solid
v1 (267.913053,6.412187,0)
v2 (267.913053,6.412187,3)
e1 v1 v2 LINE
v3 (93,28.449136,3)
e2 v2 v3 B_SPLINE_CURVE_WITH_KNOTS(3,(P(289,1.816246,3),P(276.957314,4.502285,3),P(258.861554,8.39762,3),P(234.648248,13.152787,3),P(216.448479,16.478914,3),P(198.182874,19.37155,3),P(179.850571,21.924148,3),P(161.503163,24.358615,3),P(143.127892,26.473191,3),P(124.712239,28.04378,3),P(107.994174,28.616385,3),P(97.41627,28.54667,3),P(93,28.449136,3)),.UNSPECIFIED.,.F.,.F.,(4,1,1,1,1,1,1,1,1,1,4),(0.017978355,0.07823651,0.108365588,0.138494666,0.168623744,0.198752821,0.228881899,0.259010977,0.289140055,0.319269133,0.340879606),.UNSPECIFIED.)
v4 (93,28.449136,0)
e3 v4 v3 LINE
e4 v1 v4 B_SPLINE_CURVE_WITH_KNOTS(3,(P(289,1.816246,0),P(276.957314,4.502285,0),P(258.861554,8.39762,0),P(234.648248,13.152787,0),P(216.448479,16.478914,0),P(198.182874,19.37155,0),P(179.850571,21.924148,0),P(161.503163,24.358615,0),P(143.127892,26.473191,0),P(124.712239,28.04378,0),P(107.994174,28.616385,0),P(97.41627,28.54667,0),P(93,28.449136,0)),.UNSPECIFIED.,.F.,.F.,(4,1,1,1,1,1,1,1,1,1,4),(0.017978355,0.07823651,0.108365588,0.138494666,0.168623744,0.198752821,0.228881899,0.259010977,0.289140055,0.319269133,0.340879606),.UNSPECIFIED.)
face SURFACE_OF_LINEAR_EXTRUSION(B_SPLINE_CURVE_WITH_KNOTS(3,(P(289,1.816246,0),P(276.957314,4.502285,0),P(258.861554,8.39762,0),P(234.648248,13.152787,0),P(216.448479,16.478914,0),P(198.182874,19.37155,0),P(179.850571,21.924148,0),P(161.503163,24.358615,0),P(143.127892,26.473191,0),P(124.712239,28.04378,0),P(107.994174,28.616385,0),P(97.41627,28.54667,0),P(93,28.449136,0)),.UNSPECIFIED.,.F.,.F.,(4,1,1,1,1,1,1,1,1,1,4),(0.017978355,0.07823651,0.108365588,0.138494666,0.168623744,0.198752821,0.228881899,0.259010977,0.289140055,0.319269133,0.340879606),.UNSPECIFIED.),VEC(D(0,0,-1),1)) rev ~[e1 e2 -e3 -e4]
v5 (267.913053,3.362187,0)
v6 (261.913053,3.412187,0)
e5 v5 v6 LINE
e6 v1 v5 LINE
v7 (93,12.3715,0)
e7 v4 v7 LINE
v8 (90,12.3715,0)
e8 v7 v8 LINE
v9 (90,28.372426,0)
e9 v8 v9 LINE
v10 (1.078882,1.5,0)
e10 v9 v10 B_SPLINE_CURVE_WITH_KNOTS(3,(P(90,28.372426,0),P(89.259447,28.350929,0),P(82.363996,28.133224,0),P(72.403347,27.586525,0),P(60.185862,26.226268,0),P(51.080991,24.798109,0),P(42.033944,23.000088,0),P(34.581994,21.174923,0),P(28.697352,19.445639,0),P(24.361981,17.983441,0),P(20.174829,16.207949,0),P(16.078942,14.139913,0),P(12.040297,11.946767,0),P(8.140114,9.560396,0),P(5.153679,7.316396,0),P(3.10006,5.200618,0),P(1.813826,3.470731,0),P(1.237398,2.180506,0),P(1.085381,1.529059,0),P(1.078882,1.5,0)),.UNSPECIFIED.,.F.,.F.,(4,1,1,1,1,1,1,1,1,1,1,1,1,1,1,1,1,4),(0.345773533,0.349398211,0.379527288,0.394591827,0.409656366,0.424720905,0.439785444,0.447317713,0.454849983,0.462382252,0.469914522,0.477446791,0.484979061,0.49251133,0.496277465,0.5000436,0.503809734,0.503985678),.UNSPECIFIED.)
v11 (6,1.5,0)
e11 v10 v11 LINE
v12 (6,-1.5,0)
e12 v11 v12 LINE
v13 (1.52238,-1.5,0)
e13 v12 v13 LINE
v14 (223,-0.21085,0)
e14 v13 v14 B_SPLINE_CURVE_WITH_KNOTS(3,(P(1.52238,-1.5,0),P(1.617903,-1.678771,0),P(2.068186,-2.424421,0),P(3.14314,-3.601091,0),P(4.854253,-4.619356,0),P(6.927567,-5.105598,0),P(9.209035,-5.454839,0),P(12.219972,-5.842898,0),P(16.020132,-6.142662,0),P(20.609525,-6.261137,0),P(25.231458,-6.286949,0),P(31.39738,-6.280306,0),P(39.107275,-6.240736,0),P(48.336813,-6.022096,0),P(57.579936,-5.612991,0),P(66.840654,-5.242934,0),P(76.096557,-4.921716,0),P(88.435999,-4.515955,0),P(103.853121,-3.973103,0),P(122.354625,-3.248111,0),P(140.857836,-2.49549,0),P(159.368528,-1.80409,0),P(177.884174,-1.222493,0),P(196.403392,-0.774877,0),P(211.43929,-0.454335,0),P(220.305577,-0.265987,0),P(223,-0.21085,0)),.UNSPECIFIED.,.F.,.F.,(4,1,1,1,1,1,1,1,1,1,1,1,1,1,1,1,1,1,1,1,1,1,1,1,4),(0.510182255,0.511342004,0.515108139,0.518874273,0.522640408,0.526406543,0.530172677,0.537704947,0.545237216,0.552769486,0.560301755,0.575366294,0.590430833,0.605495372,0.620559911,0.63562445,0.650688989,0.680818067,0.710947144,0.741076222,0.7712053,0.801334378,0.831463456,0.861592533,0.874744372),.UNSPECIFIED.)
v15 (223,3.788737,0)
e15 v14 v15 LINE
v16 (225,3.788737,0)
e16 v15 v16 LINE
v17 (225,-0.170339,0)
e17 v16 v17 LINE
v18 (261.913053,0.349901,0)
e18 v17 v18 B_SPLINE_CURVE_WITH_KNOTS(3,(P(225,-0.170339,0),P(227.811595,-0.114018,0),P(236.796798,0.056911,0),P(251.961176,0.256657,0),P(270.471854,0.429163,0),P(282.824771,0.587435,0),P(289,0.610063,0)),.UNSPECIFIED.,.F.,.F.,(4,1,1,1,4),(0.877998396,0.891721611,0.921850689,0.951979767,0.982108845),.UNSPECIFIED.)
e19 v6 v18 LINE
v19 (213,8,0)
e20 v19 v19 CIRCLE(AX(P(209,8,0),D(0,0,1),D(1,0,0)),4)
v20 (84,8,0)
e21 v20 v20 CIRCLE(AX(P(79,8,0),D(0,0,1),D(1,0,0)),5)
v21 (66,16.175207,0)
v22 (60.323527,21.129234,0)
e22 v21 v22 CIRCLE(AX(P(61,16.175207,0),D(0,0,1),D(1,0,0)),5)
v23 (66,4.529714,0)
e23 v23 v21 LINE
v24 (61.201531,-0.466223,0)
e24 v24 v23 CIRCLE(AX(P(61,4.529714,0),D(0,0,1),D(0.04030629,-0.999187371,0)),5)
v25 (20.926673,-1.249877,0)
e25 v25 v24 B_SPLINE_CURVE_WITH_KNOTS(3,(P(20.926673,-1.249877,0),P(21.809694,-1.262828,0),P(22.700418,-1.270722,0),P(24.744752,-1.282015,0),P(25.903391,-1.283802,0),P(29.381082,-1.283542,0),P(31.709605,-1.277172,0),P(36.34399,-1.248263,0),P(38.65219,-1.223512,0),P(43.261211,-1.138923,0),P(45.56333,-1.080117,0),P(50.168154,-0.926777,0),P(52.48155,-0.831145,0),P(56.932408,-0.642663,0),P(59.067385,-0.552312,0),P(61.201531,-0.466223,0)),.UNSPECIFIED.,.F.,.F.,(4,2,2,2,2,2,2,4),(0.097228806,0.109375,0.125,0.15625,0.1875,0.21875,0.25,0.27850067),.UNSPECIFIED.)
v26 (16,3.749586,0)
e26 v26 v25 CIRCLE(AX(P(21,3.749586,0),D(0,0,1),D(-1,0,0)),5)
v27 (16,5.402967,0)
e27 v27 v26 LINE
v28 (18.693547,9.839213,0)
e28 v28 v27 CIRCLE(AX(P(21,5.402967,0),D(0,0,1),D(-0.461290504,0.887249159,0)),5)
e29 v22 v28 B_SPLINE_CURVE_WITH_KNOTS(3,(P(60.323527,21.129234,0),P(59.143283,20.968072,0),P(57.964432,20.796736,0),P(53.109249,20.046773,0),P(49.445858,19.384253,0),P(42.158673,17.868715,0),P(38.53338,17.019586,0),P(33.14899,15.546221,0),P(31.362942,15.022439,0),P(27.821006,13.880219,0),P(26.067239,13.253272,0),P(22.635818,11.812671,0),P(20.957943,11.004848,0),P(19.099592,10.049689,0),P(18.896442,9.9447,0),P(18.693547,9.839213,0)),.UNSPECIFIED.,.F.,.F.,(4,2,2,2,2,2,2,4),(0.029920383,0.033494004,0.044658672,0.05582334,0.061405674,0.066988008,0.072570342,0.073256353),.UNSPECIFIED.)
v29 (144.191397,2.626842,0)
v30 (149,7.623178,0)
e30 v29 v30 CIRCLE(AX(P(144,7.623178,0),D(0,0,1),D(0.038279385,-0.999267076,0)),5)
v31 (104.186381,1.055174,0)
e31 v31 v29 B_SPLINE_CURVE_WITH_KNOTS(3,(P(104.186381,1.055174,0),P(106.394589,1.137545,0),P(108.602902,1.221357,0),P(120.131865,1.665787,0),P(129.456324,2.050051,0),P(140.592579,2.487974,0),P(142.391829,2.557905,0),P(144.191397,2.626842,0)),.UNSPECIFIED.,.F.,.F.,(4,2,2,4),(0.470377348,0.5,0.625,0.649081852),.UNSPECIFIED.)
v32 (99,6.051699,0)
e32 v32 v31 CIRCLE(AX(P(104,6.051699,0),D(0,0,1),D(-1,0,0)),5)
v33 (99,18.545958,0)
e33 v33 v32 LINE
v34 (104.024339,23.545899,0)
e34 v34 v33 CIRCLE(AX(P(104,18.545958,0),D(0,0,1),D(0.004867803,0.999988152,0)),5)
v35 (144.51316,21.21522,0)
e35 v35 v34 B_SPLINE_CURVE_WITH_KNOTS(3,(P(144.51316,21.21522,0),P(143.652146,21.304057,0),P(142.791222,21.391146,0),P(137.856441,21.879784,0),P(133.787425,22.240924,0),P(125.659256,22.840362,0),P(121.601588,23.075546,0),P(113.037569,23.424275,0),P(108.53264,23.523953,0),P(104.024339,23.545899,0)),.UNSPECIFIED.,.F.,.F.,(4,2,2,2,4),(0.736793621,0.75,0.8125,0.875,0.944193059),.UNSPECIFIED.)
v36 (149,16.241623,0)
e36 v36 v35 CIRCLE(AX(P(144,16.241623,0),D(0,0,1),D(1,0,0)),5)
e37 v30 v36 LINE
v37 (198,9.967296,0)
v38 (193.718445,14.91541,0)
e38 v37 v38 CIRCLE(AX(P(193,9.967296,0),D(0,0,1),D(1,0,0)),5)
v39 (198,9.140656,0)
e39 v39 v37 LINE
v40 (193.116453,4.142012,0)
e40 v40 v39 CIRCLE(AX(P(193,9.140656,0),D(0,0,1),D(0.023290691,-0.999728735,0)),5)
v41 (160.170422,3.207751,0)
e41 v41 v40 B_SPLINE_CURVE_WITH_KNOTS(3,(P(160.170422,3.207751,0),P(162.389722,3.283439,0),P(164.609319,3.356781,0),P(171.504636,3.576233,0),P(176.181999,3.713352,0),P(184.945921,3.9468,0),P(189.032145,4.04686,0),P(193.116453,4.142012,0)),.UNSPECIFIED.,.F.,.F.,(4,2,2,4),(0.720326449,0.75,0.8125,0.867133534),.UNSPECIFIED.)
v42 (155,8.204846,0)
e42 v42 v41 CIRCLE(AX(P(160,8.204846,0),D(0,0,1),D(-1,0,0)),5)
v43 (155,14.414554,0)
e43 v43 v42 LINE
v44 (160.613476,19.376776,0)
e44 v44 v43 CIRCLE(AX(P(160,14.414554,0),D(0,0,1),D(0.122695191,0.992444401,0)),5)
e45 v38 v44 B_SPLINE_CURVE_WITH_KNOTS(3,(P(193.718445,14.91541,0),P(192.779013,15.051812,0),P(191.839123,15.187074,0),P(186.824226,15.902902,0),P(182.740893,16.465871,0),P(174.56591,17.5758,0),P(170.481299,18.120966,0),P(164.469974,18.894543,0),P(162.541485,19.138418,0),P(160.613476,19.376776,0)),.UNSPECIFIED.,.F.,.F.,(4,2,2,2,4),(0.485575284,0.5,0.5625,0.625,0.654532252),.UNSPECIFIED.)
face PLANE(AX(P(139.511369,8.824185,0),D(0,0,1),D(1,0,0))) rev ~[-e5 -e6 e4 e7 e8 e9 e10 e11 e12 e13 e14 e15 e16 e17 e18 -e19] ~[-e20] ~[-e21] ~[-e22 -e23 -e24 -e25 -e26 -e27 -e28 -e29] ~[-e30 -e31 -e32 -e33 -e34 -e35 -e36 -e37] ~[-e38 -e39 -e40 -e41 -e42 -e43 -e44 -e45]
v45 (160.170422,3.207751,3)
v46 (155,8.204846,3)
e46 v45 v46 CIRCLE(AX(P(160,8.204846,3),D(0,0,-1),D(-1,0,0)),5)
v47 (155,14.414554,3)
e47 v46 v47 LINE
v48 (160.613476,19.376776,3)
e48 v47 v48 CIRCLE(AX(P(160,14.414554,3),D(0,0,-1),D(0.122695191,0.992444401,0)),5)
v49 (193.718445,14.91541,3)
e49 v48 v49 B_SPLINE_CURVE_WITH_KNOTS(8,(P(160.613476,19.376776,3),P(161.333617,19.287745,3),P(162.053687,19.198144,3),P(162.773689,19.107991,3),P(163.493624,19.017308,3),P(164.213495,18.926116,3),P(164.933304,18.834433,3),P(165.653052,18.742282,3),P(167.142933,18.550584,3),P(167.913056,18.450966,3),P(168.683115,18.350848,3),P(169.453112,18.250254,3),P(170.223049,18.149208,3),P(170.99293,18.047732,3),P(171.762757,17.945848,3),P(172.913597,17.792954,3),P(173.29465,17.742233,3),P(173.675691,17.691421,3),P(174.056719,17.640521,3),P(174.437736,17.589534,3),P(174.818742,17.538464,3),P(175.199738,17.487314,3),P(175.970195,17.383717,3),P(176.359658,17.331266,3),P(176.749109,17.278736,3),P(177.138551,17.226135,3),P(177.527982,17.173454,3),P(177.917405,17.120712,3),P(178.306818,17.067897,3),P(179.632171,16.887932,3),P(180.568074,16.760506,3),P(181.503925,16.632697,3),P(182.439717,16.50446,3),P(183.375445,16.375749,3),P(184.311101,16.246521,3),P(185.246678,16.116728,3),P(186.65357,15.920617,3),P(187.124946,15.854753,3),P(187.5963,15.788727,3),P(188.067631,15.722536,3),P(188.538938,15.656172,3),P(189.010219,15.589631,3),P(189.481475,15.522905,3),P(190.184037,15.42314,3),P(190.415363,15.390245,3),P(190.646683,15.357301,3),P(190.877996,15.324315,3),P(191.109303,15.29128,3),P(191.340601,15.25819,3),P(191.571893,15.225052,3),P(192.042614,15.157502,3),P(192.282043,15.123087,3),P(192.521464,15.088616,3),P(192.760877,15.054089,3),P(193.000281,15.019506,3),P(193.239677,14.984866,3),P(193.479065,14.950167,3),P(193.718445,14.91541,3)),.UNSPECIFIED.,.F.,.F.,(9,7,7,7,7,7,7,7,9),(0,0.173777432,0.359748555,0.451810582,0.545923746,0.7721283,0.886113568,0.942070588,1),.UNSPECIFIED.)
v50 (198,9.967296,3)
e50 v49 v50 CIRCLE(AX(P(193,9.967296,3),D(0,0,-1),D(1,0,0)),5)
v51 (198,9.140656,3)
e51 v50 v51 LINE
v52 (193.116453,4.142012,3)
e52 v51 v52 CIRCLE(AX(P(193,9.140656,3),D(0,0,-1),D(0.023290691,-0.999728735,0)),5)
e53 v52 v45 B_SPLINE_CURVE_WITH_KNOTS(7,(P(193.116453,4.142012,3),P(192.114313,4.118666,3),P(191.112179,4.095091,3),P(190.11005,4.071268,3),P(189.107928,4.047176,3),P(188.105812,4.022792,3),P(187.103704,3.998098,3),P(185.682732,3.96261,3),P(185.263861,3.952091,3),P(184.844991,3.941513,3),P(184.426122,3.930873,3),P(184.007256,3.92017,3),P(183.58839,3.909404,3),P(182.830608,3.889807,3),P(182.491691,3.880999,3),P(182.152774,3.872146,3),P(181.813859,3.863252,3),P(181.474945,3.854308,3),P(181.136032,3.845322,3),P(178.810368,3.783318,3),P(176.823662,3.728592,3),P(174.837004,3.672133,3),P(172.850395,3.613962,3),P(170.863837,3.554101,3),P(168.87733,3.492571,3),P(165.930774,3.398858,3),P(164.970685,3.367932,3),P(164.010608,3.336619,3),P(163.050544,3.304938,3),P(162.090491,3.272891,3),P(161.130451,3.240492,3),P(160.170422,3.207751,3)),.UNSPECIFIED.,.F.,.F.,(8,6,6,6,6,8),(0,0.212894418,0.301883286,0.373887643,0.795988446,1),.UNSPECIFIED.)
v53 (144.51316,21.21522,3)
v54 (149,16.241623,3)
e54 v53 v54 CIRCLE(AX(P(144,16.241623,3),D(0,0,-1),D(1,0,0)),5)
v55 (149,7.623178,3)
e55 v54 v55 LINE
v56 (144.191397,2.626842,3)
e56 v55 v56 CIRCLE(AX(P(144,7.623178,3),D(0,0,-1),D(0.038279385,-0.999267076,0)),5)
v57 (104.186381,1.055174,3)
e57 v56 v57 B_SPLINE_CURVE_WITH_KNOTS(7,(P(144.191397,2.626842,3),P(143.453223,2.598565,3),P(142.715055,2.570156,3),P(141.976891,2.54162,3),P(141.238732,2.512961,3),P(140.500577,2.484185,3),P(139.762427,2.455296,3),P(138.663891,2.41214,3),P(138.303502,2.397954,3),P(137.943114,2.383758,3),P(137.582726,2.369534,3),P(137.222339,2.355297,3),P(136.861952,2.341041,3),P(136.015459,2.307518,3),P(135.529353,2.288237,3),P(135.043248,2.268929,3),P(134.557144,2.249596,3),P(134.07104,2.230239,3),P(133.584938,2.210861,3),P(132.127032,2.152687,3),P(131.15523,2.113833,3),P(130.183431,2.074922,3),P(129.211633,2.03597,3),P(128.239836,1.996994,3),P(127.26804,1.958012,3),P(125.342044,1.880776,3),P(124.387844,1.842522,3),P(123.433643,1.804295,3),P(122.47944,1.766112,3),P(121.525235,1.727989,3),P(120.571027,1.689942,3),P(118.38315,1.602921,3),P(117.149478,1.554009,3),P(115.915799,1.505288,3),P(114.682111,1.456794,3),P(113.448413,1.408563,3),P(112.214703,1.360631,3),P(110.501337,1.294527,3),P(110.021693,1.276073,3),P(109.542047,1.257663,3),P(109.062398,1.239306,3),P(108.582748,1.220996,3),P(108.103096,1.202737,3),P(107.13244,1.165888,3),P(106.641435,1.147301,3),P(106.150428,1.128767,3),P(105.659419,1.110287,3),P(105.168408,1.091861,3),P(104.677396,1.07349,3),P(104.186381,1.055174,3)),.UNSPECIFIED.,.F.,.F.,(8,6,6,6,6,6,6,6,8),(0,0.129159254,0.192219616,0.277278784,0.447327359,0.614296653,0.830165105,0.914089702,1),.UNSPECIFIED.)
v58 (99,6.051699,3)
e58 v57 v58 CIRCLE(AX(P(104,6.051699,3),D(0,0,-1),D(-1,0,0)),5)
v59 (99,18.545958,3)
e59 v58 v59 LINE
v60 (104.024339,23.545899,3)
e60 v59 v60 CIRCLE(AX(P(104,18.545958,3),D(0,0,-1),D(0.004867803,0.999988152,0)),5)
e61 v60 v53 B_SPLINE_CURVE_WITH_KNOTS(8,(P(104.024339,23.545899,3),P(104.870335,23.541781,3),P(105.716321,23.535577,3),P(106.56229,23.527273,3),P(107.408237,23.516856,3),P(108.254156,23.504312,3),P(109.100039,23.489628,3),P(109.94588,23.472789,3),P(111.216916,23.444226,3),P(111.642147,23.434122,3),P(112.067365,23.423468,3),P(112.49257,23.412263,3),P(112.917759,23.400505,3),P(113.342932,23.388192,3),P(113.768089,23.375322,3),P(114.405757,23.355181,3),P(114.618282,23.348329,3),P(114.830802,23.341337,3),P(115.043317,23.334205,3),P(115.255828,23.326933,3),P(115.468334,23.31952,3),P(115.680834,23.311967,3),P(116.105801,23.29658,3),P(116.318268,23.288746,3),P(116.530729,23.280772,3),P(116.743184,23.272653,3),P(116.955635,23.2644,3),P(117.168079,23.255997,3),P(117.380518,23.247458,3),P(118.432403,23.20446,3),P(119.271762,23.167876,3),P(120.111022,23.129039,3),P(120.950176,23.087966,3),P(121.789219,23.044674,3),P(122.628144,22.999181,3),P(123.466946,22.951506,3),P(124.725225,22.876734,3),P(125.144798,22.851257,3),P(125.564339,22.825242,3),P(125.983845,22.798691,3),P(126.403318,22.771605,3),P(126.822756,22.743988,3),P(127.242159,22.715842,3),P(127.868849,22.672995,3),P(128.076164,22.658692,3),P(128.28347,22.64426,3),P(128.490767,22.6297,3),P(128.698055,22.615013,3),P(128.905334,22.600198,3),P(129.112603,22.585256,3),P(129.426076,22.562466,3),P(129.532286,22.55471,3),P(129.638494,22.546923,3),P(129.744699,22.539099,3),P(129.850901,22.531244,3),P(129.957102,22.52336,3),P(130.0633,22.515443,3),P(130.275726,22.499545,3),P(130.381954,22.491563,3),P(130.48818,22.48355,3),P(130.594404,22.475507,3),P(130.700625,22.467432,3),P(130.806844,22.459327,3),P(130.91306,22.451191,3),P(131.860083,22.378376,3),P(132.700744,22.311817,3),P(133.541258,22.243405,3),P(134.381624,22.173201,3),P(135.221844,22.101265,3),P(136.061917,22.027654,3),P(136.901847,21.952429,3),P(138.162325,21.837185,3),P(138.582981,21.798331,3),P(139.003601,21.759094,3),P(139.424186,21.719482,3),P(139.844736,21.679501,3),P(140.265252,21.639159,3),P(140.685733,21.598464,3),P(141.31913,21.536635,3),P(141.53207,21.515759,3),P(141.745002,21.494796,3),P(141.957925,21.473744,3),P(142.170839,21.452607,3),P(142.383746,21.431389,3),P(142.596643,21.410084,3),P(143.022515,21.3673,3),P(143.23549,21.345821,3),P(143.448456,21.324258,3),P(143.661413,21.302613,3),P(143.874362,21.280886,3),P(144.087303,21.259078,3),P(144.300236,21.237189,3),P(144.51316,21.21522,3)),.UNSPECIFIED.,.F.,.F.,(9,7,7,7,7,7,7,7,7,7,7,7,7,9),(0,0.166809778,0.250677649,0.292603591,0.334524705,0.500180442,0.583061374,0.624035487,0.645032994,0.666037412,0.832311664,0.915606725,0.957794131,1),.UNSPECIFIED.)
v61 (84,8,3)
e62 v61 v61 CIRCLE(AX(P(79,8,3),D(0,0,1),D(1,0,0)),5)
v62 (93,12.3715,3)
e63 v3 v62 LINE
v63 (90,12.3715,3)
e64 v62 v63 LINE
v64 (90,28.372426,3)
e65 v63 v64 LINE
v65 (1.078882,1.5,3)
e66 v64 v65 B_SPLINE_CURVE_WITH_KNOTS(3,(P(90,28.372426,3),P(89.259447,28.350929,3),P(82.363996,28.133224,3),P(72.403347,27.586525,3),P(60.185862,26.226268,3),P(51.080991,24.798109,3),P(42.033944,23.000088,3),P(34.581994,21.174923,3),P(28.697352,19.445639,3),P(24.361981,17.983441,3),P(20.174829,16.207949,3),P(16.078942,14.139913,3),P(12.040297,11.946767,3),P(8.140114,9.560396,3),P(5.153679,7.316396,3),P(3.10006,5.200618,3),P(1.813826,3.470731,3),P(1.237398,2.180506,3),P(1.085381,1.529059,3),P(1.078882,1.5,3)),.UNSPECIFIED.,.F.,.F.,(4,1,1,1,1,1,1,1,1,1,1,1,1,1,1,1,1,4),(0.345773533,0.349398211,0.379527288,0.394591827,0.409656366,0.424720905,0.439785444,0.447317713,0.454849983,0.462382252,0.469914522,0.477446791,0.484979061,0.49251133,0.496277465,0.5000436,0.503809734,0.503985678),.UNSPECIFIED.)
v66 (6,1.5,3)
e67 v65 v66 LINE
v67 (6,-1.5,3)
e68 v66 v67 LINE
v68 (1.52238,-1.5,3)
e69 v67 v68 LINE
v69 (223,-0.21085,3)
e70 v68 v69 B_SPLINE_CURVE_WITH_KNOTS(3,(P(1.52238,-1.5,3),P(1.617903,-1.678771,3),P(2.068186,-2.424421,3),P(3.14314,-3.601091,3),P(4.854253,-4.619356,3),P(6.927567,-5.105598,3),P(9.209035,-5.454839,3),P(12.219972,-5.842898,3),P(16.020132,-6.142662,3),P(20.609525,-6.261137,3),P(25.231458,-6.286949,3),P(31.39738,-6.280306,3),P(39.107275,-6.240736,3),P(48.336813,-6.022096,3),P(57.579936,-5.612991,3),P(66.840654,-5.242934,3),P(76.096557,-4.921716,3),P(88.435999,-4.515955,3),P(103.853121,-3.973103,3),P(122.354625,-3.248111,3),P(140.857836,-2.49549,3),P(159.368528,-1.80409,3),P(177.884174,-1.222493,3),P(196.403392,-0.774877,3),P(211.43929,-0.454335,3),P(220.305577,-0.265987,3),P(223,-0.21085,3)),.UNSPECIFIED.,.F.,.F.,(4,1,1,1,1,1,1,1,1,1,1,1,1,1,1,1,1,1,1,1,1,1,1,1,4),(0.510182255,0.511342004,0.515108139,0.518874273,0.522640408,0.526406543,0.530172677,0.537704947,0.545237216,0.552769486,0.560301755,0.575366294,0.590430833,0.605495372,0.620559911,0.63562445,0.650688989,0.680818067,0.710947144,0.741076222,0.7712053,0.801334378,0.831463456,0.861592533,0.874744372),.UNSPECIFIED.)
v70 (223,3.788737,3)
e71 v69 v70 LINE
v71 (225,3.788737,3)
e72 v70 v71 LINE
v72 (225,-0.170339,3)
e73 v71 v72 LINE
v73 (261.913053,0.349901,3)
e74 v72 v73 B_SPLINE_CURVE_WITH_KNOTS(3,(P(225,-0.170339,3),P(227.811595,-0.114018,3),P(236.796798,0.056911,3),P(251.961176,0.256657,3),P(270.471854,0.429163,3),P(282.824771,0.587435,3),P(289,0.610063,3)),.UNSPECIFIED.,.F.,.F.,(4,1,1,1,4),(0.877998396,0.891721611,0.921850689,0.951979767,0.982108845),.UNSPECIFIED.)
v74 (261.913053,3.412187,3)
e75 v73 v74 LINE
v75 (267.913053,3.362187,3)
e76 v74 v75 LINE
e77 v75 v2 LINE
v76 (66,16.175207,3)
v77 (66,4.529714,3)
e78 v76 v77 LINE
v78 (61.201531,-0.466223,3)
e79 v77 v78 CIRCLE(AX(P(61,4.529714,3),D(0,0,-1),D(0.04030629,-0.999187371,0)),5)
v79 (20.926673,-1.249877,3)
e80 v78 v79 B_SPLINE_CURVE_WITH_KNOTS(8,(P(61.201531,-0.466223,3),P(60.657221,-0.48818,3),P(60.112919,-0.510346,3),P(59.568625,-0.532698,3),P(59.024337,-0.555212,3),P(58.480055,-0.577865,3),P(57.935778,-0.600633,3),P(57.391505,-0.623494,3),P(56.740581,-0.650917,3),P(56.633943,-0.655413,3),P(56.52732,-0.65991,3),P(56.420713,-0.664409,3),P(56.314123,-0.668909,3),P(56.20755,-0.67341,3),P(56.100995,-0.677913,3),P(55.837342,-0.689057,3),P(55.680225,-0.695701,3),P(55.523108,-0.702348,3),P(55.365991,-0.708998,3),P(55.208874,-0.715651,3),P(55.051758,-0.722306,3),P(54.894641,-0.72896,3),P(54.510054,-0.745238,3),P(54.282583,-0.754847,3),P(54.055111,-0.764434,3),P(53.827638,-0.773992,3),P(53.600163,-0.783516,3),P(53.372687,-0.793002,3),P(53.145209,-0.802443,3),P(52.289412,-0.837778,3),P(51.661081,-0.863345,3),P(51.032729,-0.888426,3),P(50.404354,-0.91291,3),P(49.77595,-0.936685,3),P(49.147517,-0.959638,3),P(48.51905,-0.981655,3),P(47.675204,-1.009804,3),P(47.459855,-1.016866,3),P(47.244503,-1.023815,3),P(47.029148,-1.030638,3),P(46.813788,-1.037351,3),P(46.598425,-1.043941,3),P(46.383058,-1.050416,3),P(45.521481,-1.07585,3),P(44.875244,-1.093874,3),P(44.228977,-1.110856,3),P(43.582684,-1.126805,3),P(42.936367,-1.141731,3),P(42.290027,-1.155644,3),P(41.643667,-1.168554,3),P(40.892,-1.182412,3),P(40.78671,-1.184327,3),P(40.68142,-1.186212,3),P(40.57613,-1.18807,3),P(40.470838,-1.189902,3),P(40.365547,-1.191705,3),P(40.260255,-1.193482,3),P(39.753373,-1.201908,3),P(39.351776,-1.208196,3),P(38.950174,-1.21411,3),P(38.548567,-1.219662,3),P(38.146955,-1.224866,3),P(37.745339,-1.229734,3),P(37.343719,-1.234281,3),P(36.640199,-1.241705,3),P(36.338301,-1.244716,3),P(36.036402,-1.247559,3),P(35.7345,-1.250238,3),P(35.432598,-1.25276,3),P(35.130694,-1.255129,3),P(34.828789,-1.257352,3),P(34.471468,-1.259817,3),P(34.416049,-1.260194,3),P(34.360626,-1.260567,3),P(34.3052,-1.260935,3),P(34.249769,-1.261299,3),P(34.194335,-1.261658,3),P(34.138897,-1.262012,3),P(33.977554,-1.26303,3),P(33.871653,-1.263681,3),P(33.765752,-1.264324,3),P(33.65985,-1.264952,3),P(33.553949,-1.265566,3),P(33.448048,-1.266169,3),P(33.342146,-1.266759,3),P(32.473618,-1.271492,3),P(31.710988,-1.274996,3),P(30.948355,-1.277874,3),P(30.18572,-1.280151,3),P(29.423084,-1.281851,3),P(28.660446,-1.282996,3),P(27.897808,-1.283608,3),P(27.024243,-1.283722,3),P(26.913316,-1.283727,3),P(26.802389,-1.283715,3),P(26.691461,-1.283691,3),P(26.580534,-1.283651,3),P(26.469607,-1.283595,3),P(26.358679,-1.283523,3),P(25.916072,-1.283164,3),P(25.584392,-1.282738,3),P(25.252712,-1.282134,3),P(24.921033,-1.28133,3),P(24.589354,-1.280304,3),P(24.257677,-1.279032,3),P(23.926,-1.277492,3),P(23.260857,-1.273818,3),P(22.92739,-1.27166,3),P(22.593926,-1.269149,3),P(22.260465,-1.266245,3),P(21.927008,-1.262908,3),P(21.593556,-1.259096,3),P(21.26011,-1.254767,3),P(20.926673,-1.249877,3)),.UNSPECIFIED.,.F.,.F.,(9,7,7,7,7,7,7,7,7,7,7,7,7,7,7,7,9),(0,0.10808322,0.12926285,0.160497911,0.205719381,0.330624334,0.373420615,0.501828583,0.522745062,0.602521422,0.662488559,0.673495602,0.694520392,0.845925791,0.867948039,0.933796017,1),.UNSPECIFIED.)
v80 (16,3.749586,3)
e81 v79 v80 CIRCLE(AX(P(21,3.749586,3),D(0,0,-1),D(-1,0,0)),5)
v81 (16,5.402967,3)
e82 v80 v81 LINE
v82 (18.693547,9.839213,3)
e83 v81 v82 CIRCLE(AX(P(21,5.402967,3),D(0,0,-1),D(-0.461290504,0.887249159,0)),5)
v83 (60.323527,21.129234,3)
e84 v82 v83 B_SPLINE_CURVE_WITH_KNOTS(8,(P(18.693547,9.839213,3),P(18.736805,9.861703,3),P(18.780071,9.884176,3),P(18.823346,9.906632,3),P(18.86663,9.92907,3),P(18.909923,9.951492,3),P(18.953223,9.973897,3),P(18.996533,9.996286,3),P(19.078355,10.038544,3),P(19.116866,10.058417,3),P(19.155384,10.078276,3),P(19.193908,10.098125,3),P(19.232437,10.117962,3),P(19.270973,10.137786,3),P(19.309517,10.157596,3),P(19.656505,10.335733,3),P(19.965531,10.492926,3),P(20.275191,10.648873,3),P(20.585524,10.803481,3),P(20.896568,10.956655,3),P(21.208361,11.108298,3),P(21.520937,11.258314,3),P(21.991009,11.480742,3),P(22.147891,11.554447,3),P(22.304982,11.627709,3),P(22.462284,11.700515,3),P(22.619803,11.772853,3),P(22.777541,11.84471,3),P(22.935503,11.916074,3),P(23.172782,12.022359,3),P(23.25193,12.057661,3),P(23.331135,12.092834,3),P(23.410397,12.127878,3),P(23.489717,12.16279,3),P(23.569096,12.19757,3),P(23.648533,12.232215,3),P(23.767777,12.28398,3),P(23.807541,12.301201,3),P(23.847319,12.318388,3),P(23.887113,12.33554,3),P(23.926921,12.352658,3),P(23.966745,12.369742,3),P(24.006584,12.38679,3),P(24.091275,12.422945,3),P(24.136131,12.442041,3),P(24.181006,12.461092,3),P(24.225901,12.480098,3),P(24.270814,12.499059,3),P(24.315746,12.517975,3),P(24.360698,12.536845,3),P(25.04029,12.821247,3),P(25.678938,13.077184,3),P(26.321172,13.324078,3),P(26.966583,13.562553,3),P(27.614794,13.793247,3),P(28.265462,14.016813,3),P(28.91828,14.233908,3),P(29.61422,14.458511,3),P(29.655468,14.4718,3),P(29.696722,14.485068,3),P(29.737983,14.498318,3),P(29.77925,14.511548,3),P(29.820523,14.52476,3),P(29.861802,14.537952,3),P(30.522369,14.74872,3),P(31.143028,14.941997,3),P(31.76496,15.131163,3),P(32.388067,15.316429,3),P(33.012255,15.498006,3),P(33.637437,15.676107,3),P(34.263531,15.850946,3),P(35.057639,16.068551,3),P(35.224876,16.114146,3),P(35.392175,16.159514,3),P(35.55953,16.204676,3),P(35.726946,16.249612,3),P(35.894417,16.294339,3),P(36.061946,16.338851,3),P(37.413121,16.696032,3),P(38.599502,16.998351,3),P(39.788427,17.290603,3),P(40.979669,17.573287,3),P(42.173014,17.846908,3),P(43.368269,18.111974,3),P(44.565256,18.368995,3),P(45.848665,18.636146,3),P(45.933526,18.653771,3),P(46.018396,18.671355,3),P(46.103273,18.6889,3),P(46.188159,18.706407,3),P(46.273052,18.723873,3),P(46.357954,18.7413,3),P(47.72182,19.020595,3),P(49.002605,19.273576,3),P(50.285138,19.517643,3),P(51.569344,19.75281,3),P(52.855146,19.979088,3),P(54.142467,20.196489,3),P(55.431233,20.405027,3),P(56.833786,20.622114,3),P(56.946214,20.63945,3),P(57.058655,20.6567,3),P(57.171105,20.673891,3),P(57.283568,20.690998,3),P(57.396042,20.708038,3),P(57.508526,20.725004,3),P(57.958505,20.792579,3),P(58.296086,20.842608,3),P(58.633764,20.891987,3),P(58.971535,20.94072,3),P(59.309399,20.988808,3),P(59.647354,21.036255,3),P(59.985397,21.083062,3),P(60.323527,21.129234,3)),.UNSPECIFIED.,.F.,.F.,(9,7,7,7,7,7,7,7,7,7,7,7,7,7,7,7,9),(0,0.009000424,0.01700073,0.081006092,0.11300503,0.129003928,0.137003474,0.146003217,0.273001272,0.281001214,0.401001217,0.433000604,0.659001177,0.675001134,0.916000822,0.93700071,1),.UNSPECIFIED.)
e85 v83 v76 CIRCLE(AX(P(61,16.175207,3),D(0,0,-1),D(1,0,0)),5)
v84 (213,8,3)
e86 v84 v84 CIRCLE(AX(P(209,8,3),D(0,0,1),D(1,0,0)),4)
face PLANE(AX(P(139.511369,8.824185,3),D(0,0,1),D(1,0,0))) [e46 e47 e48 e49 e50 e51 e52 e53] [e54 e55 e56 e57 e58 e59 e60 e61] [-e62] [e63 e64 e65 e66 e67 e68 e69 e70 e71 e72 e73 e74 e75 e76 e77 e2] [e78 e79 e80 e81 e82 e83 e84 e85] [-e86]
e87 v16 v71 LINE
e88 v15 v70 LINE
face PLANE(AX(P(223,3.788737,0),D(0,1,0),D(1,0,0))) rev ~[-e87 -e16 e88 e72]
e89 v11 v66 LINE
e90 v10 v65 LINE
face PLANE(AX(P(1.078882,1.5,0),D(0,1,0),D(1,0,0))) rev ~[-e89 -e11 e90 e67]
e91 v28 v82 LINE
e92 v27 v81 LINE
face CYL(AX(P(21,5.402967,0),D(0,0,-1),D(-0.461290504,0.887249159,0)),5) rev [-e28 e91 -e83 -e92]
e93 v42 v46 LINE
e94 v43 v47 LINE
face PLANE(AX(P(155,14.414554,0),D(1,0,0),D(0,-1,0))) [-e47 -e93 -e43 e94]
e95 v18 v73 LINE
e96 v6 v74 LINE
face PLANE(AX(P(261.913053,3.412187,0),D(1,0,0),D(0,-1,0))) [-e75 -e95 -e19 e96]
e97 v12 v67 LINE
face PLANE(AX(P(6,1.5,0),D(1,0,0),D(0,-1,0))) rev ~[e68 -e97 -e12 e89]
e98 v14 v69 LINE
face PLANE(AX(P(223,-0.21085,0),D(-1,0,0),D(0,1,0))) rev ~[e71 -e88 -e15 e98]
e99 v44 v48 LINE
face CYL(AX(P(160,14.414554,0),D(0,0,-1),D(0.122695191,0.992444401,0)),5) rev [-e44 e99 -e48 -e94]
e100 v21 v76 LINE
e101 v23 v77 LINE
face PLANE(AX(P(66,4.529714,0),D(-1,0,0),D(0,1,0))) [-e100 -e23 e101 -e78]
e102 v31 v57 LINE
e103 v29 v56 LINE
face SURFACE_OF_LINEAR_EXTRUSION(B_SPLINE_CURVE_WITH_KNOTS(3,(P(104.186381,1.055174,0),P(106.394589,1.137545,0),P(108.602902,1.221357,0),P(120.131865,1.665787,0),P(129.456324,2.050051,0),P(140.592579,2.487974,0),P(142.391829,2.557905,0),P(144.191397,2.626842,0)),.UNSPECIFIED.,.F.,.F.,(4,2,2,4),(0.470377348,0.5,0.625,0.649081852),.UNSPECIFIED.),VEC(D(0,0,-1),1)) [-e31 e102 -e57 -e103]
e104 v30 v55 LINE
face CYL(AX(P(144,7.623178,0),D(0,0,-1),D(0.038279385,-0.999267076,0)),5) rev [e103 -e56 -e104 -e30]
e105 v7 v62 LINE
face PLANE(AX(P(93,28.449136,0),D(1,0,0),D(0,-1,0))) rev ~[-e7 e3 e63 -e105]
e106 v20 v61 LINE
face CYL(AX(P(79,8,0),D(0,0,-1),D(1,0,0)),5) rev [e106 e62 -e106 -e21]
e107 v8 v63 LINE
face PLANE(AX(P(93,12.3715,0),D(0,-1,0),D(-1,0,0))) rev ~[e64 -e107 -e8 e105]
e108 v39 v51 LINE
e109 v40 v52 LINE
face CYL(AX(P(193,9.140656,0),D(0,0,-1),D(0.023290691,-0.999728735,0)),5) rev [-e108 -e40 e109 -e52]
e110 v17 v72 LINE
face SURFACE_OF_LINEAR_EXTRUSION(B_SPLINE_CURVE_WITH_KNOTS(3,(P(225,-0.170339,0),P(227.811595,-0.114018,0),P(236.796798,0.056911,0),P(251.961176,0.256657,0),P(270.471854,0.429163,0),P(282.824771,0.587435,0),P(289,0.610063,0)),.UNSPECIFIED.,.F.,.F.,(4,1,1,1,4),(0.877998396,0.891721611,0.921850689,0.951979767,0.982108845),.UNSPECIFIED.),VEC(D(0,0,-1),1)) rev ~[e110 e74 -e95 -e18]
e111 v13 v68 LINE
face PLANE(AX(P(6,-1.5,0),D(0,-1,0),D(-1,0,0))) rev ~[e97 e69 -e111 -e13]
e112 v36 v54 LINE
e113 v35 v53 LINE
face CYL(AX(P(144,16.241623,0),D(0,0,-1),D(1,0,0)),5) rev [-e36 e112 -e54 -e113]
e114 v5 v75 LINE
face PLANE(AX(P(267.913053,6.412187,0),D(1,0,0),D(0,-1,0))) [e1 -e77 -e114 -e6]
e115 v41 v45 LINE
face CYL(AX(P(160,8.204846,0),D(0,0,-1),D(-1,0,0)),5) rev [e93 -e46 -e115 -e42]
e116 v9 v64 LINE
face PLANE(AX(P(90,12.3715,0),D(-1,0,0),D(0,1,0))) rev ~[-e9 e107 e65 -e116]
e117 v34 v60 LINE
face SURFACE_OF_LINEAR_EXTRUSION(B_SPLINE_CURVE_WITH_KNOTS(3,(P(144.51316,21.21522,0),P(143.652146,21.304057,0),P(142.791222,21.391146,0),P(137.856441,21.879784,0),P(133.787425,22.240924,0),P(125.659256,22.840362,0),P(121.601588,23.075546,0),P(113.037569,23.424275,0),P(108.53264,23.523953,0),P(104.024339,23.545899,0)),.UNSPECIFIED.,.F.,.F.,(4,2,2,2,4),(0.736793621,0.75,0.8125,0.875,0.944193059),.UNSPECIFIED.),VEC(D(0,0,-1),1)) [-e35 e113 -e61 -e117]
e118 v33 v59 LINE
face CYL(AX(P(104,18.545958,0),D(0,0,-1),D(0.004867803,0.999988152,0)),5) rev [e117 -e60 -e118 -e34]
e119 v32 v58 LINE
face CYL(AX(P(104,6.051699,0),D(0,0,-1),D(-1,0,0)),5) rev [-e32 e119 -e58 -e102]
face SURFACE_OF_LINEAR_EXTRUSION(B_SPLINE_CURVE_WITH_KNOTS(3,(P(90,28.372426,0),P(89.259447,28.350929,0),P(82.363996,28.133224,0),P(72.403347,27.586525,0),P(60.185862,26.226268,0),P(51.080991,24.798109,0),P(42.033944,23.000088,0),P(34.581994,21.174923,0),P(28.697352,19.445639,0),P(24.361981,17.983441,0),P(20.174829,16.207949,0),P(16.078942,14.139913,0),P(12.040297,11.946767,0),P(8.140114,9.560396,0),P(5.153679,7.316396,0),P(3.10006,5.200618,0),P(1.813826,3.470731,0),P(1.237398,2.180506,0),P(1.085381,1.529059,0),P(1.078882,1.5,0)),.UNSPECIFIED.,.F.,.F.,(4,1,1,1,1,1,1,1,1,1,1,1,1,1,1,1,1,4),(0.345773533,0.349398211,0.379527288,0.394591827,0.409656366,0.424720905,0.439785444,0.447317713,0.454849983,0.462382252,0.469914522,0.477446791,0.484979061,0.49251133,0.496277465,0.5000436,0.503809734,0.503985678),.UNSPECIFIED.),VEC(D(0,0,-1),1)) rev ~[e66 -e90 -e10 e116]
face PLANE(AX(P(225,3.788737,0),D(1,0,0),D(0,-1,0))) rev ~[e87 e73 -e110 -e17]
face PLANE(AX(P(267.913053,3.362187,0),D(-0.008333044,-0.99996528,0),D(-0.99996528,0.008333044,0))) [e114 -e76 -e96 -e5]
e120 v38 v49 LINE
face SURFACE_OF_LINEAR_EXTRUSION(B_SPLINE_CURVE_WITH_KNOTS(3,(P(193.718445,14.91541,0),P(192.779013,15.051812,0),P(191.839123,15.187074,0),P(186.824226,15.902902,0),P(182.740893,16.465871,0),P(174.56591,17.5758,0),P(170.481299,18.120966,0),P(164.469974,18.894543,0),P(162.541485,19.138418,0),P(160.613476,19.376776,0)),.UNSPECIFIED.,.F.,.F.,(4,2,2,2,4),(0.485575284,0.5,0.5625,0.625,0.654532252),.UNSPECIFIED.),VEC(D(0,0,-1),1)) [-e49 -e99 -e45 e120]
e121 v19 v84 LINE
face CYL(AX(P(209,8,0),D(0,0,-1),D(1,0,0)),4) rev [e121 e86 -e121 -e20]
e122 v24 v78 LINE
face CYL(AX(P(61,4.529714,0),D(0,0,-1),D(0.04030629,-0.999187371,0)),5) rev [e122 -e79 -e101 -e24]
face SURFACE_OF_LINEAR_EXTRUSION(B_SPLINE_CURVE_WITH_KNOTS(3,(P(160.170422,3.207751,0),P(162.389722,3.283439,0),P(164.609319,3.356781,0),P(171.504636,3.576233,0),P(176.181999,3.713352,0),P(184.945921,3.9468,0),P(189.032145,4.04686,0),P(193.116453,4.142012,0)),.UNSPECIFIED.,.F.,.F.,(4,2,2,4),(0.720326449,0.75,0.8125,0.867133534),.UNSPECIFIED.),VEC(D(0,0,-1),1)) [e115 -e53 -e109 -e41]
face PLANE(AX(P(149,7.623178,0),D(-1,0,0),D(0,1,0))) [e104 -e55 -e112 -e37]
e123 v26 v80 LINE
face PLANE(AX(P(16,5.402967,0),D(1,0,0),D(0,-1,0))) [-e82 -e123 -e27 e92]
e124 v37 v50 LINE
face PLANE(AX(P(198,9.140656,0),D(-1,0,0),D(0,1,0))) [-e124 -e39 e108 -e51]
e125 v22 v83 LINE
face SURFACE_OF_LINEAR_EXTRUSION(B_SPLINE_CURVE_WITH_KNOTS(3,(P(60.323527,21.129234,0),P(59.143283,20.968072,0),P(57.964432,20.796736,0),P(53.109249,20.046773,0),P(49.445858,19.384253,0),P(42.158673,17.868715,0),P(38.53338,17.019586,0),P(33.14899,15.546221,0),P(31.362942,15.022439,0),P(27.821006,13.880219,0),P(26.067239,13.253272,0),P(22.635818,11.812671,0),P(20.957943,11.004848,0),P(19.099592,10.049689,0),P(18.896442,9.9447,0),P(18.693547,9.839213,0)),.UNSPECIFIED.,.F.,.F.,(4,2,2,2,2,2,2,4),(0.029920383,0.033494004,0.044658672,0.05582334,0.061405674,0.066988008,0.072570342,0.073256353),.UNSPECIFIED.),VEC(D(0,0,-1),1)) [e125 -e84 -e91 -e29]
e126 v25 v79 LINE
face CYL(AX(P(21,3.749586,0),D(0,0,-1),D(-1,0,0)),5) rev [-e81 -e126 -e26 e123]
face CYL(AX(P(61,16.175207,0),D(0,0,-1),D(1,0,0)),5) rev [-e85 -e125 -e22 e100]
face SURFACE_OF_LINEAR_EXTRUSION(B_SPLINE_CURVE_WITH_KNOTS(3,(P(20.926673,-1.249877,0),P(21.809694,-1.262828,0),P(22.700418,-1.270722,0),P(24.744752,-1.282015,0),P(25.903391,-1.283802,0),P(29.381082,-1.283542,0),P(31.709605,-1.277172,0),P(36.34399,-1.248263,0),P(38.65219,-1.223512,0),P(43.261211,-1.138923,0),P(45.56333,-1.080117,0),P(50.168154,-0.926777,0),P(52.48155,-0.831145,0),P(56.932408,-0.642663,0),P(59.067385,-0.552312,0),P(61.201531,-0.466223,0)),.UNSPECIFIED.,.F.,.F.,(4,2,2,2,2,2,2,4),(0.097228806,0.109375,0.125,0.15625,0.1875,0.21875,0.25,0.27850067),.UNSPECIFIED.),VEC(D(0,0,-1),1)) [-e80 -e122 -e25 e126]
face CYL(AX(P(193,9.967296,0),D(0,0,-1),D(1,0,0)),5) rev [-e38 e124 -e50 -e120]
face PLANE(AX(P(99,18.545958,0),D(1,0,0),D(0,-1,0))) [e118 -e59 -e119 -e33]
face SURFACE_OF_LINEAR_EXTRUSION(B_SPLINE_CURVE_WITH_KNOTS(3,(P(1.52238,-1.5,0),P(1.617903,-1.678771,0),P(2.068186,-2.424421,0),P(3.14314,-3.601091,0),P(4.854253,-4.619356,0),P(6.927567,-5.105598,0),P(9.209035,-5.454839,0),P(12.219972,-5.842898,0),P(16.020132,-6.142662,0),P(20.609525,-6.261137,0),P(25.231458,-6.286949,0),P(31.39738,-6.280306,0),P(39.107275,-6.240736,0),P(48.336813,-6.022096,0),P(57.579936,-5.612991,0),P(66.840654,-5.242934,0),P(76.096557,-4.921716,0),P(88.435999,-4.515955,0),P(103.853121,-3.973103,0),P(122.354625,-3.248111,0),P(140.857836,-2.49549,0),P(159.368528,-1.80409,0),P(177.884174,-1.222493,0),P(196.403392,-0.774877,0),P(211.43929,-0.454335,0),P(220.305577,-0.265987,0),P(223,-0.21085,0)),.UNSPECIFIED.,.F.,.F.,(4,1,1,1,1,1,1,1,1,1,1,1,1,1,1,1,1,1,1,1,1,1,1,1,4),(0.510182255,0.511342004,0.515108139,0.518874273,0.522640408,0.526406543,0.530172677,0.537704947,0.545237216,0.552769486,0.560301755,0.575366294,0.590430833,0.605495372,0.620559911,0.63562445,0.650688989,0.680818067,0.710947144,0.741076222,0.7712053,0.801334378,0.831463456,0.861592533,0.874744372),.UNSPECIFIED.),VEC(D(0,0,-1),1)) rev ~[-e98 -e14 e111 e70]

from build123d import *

# Parameters (mm, degrees)
SKETCH_1_R          = 5
SKETCH_1_R_2        = 4
EXTRUDE_1_DEPTH     = 3
CUT_EXTRUDE_2_DEPTH = 291.422386836


with BuildPart() as part:
    # 草图1 → 凸台-拉伸1 (new body)
    with BuildSketch(Plane.XY):
        with BuildLine():
            Line((90, 12.3715), (90, 28.372426217))
            add(Edge.make_bspline(
                [(90, 28.372426217), (89.259446982, 28.350928743), (82.363996343, 28.13322439), (72.403347361, 27.586524792), (60.185862052, 26.226268085), (51.080991088, 24.79810862), (42.033943524, 23.000087944), (34.581994337, 21.174922903), (28.697351661, 19.44563851), (24.361981086, 17.983441115), (20.174828998, 16.207949367), (16.078941989, 14.139912989), (12.040296713, 11.946766626), (8.14011433, 9.56039573), (5.153679337, 7.316395724), (3.100060439, 5.200618052), (1.813825976, 3.470730924), (1.237398467, 2.180506339), (1.085380705, 1.529058937), (1.078882286, 1.5)],
                knots=[0.345773533, 0.345773533, 0.345773533, 0.345773533, 0.349398211, 0.379527288, 0.394591827, 0.409656366, 0.424720905, 0.439785444, 0.447317713, 0.454849983, 0.462382252, 0.469914522, 0.477446791, 0.484979061, 0.49251133, 0.496277465, 0.5000436, 0.503809734, 0.503985678, 0.503985678, 0.503985678, 0.503985678], degree=3))
            Line((1.078882286, 1.5), (6, 1.5))
            Line((6, 1.5), (6, -1.5))
            Line((6, -1.5), (1.522379628, -1.5))
            add(Edge.make_bspline(
                [(1.522379628, -1.5), (1.617903461, -1.678770523), (2.068186491, -2.42442122), (3.143139608, -3.601090845), (4.854253, -4.619355756), (6.927567017, -5.105597911), (9.209034621, -5.454839075), (12.219971865, -5.84289763), (16.020132359, -6.14266222), (20.609524976, -6.2611368), (25.231457517, -6.286948592), (31.397380169, -6.280305851), (39.107274969, -6.240736398), (48.336813051, -6.022096429), (57.579935967, -5.612990736), (66.840654471, -5.242934226), (76.096556555, -4.921715721), (88.435998513, -4.515955408), (103.853120896, -3.973102953), (122.354625015, -3.248110744), (140.857835973, -2.495489966), (159.368527813, -1.804089638), (177.884173919, -1.222493213), (196.4033921, -0.774877257), (211.439290174, -0.454334834), (220.305576898, -0.265987383), (223, -0.210849605)],
                knots=[0.510182255, 0.510182255, 0.510182255, 0.510182255, 0.511342004, 0.515108139, 0.518874273, 0.522640408, 0.526406543, 0.530172677, 0.537704947, 0.545237216, 0.552769486, 0.560301755, 0.575366294, 0.590430833, 0.605495372, 0.620559911, 0.63562445, 0.650688989, 0.680818067, 0.710947144, 0.741076222, 0.7712053, 0.801334378, 0.831463456, 0.861592533, 0.874744372, 0.874744372, 0.874744372, 0.874744372], degree=3))
            Line((223, -0.210849605), (223, 3.788737263))
            Line((223, 3.788737263), (225, 3.788737263))
            Line((225, 3.788737263), (225, -0.170338801))
            add(Edge.make_bspline(
                [(225, -0.170338801), (227.811595191, -0.114017747), (236.796798206, 0.056910764), (251.961175933, 0.256656825), (270.471854229, 0.429163033), (282.824771355, 0.587434741), (289, 0.610062865)],
                knots=[0.877998396, 0.877998396, 0.877998396, 0.877998396, 0.891721611, 0.921850689, 0.951979767, 0.982108845, 0.982108845, 0.982108845, 0.982108845], degree=3))
            Line((289, 0.610062865), (289, 1.816246039))
            add(Edge.make_bspline(
                [(289, 1.816246039), (276.957314444, 4.502285023), (258.861554155, 8.397620333), (234.648247971, 13.152786595), (216.448478593, 16.478914183), (198.182873559, 19.371550405), (179.850571346, 21.924148488), (161.503162682, 24.358614825), (143.127892269, 26.473190985), (124.712239059, 28.043780086), (107.994173705, 28.616385423), (97.416270032, 28.546670082), (93, 28.44913561)],
                knots=[0.017978355, 0.017978355, 0.017978355, 0.017978355, 0.07823651, 0.108365588, 0.138494666, 0.168623744, 0.198752821, 0.228881899, 0.259010977, 0.289140055, 0.319269133, 0.340879606, 0.340879606, 0.340879606, 0.340879606], degree=3))
            Line((93, 28.44913561), (93, 12.3715))
            Line((93, 12.3715), (90, 12.3715))
        make_face()
        with Locations((79, 8)):
            Circle(SKETCH_1_R, mode=Mode.SUBTRACT)
        with Locations((209, 8)):
            Circle(SKETCH_1_R_2, mode=Mode.SUBTRACT)
    extrude(amount=EXTRUDE_1_DEPTH)

    # 草图3 → 切除-拉伸2 (cut, through all)
    with BuildSketch(Plane.XY):
        Polygon((261.913052859, 3.412186808), (261.913052859, 0.349901395), (296.913052859, 0.349901395), (267.913052859, 6.412186808), (267.913052859, 3.362186808), align=None)
        with BuildLine():
            Line((16, 5.402967421), (16, 3.749585631))
            ThreePointArc((16, 3.749585631), (17.438635496, 0.240072435), (20.926673148, -1.249876658))
            add(Edge.make_bspline(
                [(20.926673148, -1.249876658), (21.809693827, -1.262827876), (22.70041751, -1.270722289), (24.744752026, -1.282014543), (25.903390676, -1.283802206), (29.38108188, -1.283541675), (31.709604831, -1.277171959), (36.343989553, -1.248263334), (38.652190318, -1.223511787), (43.261210505, -1.138923387), (45.563329713, -1.080117385), (50.168153725, -0.92677743), (52.481550313, -0.831144642), (56.932408226, -0.642663317), (59.067384966, -0.552312083), (61.20153145, -0.466222597)],
                knots=[0.097228806, 0.097228806, 0.097228806, 0.097228806, 0.109375, 0.109375, 0.125, 0.125, 0.15625, 0.15625, 0.1875, 0.1875, 0.21875, 0.21875, 0.25, 0.25, 0.27850067, 0.27850067, 0.27850067, 0.27850067], degree=3))
            ThreePointArc((61.20153145, -0.466222597), (64.606082171, 1.066165303), (66, 4.529714259))
            Line((66, 4.529714259), (66, 16.175207171))
            ThreePointArc((66, 16.175207171), (64.287676463, 19.942325894), (60.32352661, 21.129234195))
            add(Edge.make_bspline(
                [(60.32352661, 21.129234195), (59.143282742, 20.968071656), (57.964431768, 20.796736398), (53.109249428, 20.046773379), (49.445857595, 19.384253181), (42.158673028, 17.868714577), (38.533379611, 17.019586343), (33.148990447, 15.546220745), (31.362942012, 15.022439399), (27.821005995, 13.880218625), (26.067238608, 13.253271835), (22.635818059, 11.812670552), (20.957942753, 11.004847704), (19.099592195, 10.049689097), (18.896441621, 9.944700093), (18.693547477, 9.839213217)],
                knots=[0.029920383, 0.029920383, 0.029920383, 0.029920383, 0.033494004, 0.033494004, 0.044658672, 0.044658672, 0.05582334, 0.05582334, 0.061405674, 0.061405674, 0.066988008, 0.066988008, 0.072570342, 0.072570342, 0.073256353, 0.073256353, 0.073256353, 0.073256353], degree=3))
            ThreePointArc((18.693547477, 9.839213217), (16.726110517, 7.997937304), (16, 5.402967421))
        make_face()
        with BuildLine():
            Line((99, 18.545958183), (99, 6.051698891))
            ThreePointArc((99, 6.051698891), (100.530987404, 2.450872374), (104.186380643, 1.055173873))
            add(Edge.make_bspline(
                [(104.186380643, 1.055173873), (106.39458867, 1.137544567), (108.602901821, 1.221357381), (120.131865001, 1.665786726), (129.456324286, 2.050051394), (140.592579239, 2.48797418), (142.3918285, 2.557905459), (144.191396926, 2.626842357)],
                knots=[0.470377348, 0.470377348, 0.470377348, 0.470377348, 0.5, 0.5, 0.625, 0.625, 0.649081852, 0.649081852, 0.649081852, 0.649081852], degree=3))
            ThreePointArc((144.191396926, 2.626842357), (147.602567462, 4.155973144), (149, 7.623177736))
            Line((149, 7.623177736), (149, 16.241622969))
            ThreePointArc((149, 16.241622969), (147.712532938, 19.59081678), (144.513160327, 21.215219904))
            add(Edge.make_bspline(
                [(144.513160327, 21.215219904), (143.652145828, 21.304056714), (142.791222193, 21.391146352), (137.856440927, 21.879784463), (133.787425472, 22.240923522), (125.659256001, 22.840362063), (121.601588339, 23.075546461), (113.037568805, 23.424275072), (108.53263967, 23.523953165), (104.024339014, 23.545898944)],
                knots=[0.736793621, 0.736793621, 0.736793621, 0.736793621, 0.75, 0.75, 0.8125, 0.8125, 0.875, 0.875, 0.944193059, 0.944193059, 0.944193059, 0.944193059], degree=3))
            ThreePointArc((104.024339014, 23.545898944), (100.473081733, 22.090086783), (99, 18.545958183))
        make_face()
        with BuildLine():
            Line((155, 14.41455393), (155, 8.204846233))
            ThreePointArc((155, 8.204846233), (156.525241738, 4.609563904), (160.17042201, 3.207751443))
            add(Edge.make_bspline(
                [(160.17042201, 3.207751443), (162.389721662, 3.283438922), (164.609319497, 3.356780918), (171.504636491, 3.576232826), (176.18199895, 3.713351663), (184.945921303, 3.946800138), (189.03214497, 4.046860263), (193.116453453, 4.14201244)],
                knots=[0.720326449, 0.720326449, 0.720326449, 0.720326449, 0.75, 0.75, 0.8125, 0.8125, 0.867133534, 0.867133534, 0.867133534, 0.867133534], degree=3))
            ThreePointArc((193.116453453, 4.14201244), (196.576469437, 5.64653729), (198, 9.140656115))
            Line((198, 9.140656115), (198, 9.967295711))
            ThreePointArc((198, 9.967295711), (196.781019979, 13.238975389), (193.718444833, 14.915410202))
            add(Edge.make_bspline(
                [(193.718444833, 14.915410202), (192.779013077, 15.051811632), (191.839123333, 15.187073825), (186.824226186, 15.902901834), (182.740892869, 16.465870736), (174.565909682, 17.575800313), (170.481299177, 18.120965891), (164.469973656, 18.894543341), (162.541485429, 19.138417507), (160.613475955, 19.376775938)],
                knots=[0.485575284, 0.485575284, 0.485575284, 0.485575284, 0.5, 0.5, 0.5625, 0.5625, 0.625, 0.625, 0.654532252, 0.654532252, 0.654532252, 0.654532252], degree=3))
            ThreePointArc((160.613475955, 19.376775938), (156.688458046, 18.160710613), (155, 14.41455393))
        make_face()
    extrude(amount=CUT_EXTRUDE_2_DEPTH, mode=Mode.SUBTRACT)


solid = part.part
